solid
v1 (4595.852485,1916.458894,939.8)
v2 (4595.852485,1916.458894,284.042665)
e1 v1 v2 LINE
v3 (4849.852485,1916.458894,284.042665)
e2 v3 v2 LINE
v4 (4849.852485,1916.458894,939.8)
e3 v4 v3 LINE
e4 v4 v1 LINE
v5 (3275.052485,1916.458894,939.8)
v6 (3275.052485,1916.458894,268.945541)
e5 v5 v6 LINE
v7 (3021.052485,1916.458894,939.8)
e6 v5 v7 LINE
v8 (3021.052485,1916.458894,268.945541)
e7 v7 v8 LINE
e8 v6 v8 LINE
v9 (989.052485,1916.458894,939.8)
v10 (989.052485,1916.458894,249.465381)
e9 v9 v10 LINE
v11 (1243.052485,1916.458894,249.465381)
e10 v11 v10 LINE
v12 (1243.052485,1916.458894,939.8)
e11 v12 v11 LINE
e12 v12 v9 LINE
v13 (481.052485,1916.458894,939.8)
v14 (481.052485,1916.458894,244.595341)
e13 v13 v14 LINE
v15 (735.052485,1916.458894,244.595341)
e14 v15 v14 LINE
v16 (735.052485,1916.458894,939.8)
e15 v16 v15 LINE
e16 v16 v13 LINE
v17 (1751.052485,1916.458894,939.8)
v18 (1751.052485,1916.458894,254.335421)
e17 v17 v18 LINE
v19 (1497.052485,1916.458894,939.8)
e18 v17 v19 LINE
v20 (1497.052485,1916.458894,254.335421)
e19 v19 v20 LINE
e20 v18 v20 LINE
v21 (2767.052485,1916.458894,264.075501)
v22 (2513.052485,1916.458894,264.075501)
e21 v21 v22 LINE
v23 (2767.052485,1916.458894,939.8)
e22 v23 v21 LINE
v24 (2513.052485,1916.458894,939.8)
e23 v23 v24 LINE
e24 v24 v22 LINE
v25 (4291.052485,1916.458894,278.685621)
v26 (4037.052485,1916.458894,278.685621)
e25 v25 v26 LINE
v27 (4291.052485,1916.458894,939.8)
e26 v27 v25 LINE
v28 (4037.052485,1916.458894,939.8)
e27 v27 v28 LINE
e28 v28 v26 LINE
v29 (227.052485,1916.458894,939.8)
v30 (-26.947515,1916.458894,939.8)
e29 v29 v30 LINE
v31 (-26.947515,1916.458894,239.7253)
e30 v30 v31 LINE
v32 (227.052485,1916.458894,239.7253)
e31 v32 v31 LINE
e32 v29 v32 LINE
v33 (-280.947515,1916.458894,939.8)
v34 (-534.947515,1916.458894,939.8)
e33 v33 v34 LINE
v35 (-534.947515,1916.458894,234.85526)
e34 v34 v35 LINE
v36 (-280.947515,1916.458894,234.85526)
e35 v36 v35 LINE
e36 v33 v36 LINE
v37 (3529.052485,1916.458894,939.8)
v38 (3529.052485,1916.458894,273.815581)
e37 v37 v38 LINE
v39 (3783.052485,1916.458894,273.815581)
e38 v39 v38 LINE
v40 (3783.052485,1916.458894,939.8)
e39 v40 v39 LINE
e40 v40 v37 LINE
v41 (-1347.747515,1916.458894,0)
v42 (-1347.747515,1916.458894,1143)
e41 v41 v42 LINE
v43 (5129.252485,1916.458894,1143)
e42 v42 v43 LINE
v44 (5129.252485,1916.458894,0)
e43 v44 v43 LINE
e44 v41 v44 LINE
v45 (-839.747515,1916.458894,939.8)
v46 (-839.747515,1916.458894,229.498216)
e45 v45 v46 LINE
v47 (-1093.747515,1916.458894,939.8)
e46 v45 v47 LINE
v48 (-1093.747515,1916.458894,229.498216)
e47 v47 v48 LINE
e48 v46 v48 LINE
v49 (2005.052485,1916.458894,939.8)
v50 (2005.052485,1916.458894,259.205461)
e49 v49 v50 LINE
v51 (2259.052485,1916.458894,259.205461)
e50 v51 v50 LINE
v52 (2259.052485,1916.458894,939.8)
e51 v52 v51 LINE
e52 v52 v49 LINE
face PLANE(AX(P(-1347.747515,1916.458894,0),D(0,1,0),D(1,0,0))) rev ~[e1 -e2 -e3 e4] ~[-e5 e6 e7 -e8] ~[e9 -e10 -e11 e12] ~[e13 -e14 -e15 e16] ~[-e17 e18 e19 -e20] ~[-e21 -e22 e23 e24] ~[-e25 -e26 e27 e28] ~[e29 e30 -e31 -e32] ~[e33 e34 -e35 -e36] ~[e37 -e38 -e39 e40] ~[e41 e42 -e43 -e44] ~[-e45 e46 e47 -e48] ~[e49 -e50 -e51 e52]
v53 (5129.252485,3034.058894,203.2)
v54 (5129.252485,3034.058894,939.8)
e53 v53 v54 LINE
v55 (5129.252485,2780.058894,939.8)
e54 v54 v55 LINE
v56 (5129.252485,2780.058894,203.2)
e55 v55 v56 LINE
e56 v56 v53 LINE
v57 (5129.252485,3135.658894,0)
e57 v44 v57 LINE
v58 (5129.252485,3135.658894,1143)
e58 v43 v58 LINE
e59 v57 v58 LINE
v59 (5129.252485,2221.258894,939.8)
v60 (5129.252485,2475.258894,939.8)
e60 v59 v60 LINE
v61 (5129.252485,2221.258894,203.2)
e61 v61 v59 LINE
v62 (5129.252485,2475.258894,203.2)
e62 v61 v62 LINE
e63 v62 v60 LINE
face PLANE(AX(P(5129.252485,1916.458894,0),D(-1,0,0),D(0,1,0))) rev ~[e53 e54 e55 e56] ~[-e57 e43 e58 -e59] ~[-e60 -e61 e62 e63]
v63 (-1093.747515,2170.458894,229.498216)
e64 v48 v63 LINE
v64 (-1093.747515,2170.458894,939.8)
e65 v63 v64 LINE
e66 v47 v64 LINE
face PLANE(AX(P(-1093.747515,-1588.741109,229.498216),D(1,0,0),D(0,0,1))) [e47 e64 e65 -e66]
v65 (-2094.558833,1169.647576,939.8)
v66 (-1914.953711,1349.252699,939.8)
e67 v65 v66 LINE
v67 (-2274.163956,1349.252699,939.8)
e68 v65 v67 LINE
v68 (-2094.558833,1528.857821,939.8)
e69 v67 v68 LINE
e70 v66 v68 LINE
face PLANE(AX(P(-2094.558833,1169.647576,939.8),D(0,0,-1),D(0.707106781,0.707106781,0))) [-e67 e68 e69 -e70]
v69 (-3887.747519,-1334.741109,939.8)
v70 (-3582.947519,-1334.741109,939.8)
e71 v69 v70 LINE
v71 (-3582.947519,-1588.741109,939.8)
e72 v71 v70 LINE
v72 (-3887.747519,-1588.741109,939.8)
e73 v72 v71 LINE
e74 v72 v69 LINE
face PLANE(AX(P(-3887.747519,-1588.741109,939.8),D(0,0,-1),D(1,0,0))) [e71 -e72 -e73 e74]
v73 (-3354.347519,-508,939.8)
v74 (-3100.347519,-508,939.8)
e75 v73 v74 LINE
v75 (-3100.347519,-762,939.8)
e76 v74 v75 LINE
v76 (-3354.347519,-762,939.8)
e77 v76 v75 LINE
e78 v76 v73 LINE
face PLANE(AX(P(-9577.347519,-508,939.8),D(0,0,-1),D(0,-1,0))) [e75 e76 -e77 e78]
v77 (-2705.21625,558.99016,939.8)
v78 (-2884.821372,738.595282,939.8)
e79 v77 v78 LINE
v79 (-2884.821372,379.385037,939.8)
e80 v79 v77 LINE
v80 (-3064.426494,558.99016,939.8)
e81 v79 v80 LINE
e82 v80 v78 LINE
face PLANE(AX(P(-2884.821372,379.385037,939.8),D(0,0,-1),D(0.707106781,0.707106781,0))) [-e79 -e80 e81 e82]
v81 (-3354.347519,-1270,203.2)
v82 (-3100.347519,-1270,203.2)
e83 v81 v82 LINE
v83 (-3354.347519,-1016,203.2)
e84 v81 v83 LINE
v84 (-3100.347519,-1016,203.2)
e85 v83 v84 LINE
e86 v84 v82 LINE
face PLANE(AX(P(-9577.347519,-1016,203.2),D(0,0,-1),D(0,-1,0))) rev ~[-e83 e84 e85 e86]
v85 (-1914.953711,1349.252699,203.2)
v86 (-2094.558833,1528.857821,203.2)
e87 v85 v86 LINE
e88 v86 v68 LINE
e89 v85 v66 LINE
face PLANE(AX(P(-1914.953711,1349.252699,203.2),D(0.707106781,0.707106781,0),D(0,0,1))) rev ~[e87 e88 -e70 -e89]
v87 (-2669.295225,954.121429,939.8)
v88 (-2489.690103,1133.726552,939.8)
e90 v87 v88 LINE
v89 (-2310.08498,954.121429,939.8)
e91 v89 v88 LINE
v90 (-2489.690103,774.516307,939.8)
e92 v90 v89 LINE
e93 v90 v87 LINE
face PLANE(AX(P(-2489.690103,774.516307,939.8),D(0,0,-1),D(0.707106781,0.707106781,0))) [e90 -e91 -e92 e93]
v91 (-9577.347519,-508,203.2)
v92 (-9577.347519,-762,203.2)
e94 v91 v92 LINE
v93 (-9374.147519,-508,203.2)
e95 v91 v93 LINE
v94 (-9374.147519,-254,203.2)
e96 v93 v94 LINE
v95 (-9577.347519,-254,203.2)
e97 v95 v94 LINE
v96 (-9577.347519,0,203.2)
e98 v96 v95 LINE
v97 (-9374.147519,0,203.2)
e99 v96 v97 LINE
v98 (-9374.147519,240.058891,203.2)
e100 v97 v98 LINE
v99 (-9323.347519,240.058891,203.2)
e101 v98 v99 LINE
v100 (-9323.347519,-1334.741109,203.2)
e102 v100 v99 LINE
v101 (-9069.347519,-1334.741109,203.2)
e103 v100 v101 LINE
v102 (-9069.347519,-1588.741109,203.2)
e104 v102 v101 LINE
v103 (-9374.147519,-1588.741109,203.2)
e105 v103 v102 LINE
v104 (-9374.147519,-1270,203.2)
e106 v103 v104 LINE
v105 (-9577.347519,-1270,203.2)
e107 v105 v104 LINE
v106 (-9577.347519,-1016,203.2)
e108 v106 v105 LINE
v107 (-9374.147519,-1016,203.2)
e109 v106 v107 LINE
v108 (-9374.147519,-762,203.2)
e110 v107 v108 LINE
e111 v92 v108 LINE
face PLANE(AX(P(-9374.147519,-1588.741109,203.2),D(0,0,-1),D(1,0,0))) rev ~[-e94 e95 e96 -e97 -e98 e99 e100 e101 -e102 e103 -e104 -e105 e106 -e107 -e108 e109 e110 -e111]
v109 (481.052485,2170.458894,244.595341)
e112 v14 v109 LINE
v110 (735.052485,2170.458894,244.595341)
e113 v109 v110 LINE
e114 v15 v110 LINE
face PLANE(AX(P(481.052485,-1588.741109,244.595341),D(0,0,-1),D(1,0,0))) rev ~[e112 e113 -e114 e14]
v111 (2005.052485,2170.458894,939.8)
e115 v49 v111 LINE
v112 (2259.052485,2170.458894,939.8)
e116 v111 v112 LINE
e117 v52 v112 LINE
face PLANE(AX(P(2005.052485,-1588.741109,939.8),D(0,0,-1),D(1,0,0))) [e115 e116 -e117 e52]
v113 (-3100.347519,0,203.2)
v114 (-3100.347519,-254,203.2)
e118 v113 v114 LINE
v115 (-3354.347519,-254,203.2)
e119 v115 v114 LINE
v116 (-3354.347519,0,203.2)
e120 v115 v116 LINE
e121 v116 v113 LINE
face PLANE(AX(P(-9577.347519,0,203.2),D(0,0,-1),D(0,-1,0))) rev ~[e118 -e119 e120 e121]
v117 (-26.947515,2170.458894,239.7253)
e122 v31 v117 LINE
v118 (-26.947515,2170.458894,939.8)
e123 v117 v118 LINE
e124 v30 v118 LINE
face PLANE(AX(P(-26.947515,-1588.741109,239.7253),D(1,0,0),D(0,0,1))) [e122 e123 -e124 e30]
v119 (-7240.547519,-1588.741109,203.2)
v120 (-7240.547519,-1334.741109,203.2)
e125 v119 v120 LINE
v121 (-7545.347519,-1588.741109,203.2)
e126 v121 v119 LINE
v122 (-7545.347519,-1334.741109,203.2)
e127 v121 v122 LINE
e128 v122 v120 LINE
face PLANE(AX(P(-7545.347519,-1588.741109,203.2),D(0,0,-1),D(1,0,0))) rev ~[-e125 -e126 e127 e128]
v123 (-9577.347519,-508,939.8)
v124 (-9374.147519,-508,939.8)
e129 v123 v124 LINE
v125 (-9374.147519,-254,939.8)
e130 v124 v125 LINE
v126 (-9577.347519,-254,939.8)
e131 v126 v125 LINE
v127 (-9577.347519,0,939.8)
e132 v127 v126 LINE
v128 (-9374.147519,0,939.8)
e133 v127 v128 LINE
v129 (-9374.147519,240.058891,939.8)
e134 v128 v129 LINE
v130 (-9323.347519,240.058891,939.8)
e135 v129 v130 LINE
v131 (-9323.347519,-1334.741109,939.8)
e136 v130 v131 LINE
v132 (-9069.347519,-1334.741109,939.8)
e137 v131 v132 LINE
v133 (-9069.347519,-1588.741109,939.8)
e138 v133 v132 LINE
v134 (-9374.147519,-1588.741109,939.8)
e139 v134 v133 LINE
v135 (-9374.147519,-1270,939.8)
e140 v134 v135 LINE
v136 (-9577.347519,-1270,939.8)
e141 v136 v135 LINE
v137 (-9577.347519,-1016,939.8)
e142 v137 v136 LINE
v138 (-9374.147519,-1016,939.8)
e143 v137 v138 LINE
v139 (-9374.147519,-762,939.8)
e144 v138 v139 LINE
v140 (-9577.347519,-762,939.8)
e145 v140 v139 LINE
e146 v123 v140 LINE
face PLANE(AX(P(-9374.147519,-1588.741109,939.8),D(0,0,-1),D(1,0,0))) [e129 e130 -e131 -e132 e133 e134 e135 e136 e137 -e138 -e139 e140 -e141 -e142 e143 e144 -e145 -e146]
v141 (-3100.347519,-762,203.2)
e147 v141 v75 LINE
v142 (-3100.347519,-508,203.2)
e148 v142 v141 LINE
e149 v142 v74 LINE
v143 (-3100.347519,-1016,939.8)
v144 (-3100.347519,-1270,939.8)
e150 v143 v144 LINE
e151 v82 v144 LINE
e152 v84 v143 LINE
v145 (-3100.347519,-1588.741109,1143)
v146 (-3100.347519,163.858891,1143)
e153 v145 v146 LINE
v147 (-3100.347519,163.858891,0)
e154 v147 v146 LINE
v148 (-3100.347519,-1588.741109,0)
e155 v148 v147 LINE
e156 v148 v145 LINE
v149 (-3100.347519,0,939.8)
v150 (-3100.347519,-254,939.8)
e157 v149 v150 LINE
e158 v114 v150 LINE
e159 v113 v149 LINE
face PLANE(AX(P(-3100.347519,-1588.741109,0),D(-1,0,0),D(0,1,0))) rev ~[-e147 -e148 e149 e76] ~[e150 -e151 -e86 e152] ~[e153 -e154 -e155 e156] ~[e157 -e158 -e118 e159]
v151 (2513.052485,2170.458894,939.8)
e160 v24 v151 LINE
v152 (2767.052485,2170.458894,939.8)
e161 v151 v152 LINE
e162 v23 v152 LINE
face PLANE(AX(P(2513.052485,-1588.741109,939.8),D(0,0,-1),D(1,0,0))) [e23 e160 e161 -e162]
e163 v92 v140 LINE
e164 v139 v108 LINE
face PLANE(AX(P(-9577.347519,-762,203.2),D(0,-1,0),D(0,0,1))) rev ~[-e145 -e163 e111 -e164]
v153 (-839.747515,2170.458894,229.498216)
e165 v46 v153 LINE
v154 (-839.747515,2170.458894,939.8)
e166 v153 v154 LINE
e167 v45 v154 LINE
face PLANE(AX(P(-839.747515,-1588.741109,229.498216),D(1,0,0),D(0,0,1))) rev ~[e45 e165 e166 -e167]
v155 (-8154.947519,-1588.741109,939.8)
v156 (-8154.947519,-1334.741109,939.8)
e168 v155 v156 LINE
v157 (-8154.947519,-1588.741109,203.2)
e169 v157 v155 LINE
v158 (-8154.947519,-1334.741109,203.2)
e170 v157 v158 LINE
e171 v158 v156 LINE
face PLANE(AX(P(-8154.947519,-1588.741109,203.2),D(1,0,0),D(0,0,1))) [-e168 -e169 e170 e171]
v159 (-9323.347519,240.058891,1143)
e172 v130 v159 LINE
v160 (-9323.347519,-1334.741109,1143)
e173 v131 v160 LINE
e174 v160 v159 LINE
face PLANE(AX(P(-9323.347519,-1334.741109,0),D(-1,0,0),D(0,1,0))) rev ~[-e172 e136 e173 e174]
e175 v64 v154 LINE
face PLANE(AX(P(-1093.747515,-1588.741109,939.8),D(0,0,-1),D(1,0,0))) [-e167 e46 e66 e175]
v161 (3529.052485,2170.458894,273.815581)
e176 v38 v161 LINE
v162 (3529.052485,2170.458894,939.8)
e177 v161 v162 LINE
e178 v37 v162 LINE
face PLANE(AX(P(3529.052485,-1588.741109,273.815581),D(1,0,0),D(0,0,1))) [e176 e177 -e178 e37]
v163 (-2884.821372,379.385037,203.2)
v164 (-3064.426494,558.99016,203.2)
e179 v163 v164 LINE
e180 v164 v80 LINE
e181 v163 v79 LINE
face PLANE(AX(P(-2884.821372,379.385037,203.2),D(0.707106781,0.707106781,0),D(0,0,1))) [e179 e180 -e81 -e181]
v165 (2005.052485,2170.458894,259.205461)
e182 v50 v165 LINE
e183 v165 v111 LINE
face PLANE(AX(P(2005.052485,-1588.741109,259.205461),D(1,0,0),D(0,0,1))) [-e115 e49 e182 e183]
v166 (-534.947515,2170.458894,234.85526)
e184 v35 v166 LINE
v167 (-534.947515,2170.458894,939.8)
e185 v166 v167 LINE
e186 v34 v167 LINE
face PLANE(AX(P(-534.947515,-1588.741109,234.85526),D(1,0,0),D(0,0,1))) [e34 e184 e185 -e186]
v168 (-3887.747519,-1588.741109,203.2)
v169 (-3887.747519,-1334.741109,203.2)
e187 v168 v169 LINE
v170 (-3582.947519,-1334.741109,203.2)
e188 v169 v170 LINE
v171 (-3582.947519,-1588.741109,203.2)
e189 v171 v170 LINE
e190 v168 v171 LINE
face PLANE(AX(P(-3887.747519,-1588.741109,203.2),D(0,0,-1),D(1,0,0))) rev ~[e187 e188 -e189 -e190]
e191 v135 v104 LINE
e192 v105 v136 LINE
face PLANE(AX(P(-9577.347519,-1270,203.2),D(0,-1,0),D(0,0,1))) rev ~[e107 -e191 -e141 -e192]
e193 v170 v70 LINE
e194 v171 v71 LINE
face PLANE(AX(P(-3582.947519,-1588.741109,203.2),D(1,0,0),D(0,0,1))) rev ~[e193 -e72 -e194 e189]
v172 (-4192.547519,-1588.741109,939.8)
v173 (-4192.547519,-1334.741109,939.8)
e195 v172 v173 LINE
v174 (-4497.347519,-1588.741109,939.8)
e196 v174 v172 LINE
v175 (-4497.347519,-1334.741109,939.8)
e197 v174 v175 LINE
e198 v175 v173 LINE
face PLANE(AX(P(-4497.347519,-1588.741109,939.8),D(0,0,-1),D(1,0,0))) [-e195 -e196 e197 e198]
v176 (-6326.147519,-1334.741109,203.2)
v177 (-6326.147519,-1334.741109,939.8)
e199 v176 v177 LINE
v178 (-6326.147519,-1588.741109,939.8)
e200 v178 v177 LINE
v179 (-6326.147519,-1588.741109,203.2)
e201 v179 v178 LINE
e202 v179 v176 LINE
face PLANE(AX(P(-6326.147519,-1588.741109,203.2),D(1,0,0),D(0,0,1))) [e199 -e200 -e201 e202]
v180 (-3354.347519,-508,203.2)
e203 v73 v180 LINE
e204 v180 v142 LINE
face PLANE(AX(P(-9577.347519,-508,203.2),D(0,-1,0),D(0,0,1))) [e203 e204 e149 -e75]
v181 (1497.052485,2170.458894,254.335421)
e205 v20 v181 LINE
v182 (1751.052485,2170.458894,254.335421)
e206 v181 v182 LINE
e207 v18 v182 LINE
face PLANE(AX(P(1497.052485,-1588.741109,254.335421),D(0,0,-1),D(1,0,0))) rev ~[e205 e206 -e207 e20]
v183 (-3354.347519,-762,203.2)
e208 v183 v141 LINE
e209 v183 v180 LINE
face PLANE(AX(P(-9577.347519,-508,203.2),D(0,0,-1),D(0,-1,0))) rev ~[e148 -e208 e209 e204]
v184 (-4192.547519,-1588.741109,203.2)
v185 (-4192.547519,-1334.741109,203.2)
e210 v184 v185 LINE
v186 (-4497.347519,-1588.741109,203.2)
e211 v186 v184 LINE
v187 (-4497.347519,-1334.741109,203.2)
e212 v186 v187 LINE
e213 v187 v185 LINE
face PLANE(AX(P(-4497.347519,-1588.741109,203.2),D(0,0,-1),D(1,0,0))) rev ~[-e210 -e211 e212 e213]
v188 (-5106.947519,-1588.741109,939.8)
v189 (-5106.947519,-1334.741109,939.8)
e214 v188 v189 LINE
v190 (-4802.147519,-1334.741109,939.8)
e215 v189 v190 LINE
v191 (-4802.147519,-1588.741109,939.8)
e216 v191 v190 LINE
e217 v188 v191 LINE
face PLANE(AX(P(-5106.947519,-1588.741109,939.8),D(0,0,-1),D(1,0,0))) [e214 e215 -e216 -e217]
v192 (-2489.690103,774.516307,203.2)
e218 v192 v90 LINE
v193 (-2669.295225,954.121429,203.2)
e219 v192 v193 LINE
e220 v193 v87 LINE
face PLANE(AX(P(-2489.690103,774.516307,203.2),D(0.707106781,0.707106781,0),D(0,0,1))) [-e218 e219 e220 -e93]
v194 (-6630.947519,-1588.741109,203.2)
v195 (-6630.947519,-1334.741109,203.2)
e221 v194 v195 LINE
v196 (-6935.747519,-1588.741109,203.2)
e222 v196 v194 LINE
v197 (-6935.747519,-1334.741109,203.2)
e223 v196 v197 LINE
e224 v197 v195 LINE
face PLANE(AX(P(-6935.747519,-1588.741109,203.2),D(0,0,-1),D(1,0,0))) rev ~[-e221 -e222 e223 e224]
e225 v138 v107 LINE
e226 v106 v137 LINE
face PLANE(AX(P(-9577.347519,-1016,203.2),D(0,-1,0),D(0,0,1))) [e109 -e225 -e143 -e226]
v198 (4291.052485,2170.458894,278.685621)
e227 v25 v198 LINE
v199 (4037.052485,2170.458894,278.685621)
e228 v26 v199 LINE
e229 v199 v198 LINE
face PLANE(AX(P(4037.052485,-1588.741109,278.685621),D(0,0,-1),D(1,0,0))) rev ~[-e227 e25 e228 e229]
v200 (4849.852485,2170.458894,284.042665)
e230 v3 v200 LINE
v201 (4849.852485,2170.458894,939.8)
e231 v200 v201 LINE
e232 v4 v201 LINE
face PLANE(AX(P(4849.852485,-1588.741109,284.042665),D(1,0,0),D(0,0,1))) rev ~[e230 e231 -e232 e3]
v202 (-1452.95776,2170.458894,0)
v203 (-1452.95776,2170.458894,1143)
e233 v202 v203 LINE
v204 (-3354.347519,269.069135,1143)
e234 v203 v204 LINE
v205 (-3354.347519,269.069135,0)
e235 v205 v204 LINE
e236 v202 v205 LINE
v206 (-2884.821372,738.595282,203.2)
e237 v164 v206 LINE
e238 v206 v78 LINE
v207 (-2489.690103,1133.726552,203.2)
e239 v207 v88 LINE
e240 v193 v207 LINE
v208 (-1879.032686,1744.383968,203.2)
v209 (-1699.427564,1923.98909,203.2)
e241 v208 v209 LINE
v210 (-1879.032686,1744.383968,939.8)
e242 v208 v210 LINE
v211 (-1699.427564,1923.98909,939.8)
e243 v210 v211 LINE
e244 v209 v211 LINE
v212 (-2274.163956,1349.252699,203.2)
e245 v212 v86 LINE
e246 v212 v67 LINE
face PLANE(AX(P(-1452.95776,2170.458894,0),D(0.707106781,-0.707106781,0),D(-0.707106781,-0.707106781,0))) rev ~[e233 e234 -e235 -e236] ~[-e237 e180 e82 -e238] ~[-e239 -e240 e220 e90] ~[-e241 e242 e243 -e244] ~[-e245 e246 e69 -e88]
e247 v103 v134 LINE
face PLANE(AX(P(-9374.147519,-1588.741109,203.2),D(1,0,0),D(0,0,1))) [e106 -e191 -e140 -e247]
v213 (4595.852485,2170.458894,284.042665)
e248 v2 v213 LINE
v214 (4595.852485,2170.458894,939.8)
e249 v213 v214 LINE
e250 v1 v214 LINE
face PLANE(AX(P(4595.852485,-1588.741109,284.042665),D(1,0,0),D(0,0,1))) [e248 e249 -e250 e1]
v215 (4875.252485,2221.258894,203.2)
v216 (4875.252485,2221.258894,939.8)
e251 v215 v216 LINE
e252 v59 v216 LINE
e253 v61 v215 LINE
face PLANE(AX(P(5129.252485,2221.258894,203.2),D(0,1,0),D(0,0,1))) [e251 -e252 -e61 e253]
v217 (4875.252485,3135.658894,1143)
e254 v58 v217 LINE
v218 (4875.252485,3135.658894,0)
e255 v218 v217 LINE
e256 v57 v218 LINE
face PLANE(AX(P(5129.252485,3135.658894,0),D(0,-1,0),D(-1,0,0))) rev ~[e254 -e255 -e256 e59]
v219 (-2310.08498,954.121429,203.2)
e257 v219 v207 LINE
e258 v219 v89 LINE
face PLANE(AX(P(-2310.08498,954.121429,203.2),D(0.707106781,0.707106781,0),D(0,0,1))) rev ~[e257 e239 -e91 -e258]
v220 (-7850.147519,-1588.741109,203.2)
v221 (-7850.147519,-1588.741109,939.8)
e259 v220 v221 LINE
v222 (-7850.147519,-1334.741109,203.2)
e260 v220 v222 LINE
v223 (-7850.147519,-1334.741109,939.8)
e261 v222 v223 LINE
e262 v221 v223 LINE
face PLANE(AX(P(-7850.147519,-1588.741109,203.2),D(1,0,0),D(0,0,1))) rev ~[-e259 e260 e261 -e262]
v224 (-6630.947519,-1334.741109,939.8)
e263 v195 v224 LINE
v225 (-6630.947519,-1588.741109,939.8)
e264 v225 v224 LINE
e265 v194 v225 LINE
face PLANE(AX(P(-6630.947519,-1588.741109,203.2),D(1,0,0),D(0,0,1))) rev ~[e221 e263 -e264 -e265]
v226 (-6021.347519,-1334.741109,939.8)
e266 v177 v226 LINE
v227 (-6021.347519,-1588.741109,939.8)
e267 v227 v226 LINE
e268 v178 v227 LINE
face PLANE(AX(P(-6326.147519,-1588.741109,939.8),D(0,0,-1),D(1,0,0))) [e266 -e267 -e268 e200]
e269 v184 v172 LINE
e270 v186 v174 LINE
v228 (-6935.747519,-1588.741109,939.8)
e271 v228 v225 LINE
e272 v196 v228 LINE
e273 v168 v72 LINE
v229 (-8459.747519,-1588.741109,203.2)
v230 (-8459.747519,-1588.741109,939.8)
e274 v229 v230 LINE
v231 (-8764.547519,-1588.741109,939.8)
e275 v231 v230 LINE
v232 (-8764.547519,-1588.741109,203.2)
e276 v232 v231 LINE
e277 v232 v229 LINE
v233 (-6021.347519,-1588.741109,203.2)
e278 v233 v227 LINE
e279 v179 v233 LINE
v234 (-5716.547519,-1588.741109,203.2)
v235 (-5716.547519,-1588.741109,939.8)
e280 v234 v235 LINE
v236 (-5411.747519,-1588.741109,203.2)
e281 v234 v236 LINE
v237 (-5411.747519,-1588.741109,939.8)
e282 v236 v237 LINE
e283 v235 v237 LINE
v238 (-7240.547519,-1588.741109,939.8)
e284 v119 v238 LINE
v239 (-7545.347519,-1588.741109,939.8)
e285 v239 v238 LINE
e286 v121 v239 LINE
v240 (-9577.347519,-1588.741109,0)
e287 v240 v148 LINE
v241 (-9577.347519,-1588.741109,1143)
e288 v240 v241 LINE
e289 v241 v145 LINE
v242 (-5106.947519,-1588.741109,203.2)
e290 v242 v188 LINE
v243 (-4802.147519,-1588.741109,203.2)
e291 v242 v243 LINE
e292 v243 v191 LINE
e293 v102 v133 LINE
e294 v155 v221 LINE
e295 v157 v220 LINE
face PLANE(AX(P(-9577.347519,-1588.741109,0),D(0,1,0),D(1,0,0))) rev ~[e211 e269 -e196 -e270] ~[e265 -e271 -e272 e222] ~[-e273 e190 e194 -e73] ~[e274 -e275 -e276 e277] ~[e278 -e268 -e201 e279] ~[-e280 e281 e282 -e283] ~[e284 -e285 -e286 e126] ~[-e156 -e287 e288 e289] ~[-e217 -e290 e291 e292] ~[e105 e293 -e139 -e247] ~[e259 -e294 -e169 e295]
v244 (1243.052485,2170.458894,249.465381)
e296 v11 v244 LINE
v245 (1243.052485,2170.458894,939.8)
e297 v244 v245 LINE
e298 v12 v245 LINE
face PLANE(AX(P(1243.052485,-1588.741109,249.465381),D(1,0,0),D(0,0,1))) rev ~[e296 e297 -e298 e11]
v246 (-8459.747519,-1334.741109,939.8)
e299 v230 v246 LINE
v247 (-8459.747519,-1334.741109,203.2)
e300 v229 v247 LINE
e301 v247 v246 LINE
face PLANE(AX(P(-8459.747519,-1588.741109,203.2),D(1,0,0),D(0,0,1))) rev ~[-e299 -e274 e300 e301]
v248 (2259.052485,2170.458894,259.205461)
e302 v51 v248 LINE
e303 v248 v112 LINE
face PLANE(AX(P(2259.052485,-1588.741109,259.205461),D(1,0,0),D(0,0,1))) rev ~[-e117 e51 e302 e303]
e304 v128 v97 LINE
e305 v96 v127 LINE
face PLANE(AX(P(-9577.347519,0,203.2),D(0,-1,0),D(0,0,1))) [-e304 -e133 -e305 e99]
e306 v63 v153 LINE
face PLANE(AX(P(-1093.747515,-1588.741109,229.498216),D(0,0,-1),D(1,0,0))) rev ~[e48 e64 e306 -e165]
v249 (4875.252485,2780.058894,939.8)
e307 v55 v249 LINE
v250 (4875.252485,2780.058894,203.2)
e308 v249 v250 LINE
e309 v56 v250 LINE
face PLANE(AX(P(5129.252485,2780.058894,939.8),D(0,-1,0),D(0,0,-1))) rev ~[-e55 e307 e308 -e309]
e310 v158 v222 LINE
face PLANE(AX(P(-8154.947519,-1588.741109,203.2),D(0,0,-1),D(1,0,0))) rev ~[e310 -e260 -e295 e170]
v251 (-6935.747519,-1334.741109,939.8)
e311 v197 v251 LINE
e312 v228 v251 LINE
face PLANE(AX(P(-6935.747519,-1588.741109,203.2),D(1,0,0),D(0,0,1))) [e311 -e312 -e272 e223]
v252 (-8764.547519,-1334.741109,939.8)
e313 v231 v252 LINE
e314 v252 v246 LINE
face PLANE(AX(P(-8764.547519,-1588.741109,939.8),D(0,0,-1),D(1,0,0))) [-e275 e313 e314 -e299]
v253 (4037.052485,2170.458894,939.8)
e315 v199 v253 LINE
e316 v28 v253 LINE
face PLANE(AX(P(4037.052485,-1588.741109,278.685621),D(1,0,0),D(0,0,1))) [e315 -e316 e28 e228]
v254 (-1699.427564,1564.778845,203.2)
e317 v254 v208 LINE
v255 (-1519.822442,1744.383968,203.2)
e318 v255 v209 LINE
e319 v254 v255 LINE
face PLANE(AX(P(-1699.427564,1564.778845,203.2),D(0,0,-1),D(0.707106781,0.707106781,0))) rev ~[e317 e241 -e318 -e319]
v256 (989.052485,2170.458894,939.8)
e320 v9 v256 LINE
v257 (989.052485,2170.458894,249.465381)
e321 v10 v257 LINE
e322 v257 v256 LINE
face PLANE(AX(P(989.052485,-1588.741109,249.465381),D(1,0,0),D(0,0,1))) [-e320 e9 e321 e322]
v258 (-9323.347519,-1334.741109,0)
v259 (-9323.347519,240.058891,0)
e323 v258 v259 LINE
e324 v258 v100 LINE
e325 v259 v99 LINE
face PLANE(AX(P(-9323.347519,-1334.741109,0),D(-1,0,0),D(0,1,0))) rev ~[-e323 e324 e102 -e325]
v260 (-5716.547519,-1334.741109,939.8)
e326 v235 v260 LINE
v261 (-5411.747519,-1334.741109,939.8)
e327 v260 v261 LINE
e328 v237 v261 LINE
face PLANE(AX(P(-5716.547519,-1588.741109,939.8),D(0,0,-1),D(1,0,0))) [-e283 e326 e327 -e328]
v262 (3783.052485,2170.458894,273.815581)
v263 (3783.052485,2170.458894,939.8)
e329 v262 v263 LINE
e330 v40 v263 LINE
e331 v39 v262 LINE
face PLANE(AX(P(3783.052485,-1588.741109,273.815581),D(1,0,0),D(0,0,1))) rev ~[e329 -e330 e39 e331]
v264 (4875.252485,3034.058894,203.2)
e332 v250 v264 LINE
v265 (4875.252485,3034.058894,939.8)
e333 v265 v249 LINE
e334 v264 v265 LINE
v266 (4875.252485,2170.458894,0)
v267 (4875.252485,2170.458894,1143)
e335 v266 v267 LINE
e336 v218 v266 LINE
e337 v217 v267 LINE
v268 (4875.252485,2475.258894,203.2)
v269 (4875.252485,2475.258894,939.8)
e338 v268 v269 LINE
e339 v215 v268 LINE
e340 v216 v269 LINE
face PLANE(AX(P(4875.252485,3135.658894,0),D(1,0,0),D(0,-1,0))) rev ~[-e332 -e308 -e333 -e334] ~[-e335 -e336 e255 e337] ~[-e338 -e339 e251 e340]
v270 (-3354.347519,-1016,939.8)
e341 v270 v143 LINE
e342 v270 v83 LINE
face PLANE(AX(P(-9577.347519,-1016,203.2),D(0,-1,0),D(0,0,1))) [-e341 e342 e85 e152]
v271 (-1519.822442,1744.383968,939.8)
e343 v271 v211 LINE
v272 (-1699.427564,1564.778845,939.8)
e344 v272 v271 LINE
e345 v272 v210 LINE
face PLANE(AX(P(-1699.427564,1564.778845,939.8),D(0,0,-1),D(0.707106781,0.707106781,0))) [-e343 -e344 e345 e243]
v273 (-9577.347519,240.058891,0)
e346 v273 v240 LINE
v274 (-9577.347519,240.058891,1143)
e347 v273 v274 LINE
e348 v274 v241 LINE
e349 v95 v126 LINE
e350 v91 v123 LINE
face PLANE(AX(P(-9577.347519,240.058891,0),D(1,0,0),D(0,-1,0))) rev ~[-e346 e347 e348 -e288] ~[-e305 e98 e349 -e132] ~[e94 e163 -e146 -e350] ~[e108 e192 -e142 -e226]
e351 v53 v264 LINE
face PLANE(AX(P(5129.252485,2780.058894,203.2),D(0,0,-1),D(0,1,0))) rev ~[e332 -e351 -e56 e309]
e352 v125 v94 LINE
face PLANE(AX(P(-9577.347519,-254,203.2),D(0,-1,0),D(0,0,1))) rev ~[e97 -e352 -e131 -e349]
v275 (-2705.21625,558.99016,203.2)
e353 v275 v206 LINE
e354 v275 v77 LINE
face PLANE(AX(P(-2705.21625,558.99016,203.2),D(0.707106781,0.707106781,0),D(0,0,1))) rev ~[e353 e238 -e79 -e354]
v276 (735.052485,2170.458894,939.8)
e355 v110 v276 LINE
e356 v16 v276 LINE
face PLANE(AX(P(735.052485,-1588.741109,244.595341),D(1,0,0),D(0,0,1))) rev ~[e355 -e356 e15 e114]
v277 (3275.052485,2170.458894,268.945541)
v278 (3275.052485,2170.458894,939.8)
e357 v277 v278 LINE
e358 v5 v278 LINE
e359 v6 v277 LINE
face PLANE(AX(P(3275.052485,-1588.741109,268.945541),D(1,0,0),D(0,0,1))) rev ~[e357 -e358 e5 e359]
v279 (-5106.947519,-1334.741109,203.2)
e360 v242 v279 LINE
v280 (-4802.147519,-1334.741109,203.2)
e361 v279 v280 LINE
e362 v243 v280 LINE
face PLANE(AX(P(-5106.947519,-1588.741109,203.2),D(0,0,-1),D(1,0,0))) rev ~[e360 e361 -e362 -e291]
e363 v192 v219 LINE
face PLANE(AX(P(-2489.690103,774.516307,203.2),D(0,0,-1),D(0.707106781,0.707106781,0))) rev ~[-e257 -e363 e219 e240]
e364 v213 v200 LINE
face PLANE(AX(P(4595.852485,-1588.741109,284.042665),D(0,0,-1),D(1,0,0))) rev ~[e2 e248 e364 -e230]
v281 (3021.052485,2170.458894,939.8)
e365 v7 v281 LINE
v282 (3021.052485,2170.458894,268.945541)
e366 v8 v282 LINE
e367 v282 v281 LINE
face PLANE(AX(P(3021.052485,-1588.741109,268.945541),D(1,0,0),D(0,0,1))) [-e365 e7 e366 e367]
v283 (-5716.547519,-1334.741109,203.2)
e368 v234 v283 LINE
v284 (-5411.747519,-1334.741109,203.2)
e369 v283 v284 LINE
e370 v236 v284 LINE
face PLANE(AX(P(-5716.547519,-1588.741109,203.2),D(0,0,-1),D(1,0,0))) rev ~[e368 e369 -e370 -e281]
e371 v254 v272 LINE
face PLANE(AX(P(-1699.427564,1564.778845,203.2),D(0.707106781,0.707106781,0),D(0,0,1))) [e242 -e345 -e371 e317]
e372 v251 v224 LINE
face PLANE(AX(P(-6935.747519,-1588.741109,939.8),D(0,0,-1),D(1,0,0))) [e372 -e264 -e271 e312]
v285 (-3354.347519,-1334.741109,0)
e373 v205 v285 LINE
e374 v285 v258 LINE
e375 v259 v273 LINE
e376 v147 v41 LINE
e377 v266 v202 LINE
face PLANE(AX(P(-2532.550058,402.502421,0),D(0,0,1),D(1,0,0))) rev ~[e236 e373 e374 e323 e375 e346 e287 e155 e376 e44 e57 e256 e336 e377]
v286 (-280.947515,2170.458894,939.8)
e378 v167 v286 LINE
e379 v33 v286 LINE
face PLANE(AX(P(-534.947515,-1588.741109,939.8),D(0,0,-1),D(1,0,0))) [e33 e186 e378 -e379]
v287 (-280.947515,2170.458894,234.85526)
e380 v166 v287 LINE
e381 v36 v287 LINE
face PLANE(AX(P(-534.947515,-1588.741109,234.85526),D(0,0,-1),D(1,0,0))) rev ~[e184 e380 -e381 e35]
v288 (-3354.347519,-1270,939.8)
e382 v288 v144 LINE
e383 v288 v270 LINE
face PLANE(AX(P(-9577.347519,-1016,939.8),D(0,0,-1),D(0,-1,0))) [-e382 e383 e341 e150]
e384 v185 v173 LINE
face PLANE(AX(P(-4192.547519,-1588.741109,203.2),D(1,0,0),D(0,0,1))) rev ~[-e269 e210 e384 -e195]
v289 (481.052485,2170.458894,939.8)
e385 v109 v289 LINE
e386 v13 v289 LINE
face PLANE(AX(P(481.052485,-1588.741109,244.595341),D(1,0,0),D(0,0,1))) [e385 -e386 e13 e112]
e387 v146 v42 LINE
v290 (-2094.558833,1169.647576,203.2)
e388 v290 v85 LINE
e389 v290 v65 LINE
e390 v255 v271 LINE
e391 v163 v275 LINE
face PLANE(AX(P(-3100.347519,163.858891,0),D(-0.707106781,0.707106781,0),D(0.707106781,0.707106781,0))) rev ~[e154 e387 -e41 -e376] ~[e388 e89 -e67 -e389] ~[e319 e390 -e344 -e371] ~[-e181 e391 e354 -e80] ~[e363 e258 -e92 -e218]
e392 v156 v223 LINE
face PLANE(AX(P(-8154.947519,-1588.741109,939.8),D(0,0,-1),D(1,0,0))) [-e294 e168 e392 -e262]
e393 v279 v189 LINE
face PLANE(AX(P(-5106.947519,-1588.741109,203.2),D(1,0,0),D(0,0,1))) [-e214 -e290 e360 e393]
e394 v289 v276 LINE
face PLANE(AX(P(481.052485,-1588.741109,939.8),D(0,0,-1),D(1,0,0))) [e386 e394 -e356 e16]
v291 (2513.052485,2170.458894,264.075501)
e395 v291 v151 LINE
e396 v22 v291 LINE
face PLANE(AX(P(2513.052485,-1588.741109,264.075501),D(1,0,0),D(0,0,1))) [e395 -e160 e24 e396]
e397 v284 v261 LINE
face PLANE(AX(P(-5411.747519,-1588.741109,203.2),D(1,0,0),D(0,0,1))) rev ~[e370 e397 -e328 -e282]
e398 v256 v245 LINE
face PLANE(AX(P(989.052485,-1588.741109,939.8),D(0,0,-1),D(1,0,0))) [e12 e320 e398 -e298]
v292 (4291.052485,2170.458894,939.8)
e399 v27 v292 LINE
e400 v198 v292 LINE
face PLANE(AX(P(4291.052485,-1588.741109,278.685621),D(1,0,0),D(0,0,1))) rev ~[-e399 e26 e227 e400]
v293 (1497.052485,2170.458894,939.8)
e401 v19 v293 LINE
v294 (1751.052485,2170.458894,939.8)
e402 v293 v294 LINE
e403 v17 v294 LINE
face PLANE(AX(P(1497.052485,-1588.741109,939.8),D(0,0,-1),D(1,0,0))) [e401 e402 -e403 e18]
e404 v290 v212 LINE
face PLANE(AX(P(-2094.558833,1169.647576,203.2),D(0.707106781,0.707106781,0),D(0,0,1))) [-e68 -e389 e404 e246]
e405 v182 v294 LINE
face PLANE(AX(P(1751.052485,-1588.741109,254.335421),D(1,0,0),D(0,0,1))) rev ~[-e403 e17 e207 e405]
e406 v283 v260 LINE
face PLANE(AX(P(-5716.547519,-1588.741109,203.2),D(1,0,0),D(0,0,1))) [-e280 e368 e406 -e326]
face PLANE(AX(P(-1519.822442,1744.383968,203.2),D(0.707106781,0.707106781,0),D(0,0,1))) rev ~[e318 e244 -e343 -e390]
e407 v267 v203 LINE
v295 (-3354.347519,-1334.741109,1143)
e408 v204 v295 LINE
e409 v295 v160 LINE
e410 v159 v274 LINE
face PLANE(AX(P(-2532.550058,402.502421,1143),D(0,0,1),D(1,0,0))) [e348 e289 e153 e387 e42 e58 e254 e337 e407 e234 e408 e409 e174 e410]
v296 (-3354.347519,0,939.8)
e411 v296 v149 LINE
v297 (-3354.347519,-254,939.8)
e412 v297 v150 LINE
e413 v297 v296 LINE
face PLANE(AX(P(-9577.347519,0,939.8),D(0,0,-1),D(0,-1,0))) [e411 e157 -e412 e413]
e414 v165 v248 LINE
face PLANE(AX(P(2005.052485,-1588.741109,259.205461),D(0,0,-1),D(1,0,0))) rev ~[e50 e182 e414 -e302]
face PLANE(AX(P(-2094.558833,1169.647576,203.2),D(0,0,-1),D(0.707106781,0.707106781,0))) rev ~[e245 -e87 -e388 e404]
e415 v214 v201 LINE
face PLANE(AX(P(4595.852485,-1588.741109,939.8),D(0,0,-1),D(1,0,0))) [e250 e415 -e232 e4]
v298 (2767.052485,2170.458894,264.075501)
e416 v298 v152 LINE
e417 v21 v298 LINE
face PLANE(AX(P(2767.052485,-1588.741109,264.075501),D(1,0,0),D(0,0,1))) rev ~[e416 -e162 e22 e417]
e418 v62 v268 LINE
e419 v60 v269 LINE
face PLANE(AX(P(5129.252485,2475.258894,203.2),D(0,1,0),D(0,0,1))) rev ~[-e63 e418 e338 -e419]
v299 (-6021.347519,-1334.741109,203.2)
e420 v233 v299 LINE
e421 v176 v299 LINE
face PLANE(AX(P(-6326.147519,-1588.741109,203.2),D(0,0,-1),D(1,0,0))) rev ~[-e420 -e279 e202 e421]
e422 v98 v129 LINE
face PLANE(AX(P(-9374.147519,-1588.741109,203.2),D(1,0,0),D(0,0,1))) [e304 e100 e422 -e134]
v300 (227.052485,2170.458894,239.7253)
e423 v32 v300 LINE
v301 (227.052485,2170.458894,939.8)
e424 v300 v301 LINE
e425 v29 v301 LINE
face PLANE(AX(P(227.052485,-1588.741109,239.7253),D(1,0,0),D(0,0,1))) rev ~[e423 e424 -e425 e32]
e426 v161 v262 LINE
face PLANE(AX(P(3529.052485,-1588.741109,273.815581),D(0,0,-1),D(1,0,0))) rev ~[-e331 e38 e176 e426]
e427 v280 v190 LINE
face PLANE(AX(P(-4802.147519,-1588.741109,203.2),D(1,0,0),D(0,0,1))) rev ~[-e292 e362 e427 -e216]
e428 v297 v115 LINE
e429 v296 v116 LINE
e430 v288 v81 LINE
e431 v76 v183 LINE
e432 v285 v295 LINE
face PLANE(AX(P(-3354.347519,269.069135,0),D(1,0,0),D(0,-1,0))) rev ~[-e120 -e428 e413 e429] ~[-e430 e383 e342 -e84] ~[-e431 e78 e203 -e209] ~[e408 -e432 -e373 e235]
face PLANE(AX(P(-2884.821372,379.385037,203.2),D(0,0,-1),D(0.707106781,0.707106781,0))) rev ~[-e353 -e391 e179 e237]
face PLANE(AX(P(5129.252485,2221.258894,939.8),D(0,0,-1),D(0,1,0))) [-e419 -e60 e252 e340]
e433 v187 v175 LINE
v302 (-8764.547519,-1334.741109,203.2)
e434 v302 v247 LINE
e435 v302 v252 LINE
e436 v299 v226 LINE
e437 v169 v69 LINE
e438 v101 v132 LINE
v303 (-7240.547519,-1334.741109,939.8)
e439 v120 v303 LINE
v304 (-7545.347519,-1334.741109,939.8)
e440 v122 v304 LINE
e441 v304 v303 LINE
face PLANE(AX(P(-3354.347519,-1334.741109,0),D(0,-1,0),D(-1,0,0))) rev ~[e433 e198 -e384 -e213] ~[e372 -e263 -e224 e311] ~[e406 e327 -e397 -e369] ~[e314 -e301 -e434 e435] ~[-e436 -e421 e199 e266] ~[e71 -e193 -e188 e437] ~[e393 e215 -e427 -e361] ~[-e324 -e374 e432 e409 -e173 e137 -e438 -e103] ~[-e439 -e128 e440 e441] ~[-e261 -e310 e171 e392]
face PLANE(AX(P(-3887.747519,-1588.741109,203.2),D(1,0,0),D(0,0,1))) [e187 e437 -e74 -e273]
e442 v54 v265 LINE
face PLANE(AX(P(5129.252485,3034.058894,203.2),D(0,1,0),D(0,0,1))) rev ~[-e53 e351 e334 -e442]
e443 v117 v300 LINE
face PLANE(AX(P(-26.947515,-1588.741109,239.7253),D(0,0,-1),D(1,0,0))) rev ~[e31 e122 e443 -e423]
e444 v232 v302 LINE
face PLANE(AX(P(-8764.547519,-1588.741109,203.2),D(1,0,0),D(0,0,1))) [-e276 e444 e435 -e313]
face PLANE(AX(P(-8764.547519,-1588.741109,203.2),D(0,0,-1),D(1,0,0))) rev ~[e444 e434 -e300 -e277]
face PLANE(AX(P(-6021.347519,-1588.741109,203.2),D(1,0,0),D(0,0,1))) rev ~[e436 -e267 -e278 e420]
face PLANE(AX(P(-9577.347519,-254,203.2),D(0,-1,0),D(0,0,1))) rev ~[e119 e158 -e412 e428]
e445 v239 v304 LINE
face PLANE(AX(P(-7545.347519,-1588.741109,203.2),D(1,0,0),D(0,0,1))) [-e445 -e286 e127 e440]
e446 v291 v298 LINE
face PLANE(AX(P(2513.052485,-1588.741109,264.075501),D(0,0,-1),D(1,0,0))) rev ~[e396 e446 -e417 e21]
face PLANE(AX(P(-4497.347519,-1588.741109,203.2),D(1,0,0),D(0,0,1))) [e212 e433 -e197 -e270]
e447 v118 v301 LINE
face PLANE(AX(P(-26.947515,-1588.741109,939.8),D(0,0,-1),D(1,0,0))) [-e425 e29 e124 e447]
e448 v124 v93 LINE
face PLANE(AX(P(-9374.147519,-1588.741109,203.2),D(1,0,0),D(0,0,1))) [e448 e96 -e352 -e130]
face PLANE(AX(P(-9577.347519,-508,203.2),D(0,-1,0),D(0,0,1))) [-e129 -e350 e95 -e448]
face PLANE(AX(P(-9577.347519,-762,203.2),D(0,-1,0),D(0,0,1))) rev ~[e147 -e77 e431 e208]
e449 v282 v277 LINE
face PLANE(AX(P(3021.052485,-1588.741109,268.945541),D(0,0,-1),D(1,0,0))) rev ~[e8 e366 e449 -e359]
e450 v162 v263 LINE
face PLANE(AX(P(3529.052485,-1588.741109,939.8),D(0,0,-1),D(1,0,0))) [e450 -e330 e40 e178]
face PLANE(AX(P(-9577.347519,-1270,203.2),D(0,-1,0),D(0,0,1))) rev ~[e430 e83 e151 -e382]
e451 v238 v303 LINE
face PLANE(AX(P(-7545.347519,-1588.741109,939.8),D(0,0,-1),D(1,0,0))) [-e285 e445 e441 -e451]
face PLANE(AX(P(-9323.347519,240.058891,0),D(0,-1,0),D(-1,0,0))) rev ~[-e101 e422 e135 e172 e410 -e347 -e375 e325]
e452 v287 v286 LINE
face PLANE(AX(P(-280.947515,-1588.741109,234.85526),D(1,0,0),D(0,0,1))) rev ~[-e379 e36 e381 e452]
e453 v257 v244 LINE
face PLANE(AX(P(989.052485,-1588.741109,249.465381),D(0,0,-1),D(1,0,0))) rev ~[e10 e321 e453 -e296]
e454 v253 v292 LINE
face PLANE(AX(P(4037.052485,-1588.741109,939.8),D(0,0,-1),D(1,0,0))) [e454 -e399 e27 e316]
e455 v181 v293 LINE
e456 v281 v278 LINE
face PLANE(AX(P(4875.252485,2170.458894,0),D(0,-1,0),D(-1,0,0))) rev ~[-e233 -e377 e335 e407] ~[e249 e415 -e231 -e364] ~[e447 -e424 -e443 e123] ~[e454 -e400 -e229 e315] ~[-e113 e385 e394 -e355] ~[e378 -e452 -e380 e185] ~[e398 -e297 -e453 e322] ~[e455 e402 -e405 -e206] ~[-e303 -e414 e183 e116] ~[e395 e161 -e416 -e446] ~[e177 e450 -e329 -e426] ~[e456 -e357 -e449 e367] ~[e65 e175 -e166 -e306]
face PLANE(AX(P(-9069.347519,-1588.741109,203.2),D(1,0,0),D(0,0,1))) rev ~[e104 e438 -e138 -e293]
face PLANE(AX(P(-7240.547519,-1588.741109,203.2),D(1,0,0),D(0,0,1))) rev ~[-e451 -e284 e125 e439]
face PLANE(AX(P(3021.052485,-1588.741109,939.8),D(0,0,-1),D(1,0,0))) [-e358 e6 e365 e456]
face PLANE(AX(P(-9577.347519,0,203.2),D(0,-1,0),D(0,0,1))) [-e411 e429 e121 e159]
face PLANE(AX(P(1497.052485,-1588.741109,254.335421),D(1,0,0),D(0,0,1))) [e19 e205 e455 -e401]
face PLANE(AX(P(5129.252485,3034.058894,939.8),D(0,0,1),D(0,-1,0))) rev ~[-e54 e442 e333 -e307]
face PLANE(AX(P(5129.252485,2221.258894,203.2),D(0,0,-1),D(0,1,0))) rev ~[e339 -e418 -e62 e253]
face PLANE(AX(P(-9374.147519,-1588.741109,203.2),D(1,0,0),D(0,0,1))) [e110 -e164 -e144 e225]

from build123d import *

# Parameters (mm, degrees)
F1_DEPTH = 1143
F2_W     = 304.8
F2_H     = 736.6
F2_W_2   = 254
F2_H_2   = 710.3017836387
F2_H_3   = 704.944739572
F2_H_4   = 700.0746995114
F2_H_5   = 695.2046594508
F2_H_6   = 690.3346193901
F2_H_7   = 685.4645793295
F2_H_8   = 680.5945392688
F2_H_9   = 675.7244992082
F2_H_10  = 670.8544591476
F2_H_11  = 665.9844190869
F2_H_12  = 661.1143790263
F2_H_13  = 655.7573349596
F3_DEPTH = 4734.56
F4_W     = 254
F4_H     = 736.6
F5_DEPTH = 584.2
F6_W     = 254
F6_H     = 736.6
F7_DEPTH = 7112
F8_W     = 254
F8_H     = 736.6
F9_DEPTH = 304.8


with BuildPart() as f1:
    # F0 (on Top) → F1 (new body)
    with BuildSketch(Plane.XY):
        Polygon((-9577.3475189209, -1334.7411094666), (-9577.3475189209, -1588.7411094666), (-9323.3475189209, -1588.7411094666), (-3100.3475189209, -1588.7411094666), (-3100.3475189209, 163.8588905334), (-1347.747515396, 1916.4588940583), (5129.252484604, 1916.4588940583), (5129.252484604, 3135.6588940583), (4875.252484604, 3135.6588940583), (4875.252484604, 2170.4588940583), (-1452.9577602388, 2170.4588940583), (-3354.3475189209, 269.0691353762), (-3354.3475189209, -1334.7411094666), (-9323.3475189209, -1334.7411094666), (-9323.3475189209, 240.0588905334), (-9577.3475189209, 240.0588905334), align=None)
    extrude(amount=F1_DEPTH)

    # F2 (on face) → F3 (cut)
    with BuildSketch(Plane.XZ.offset(1588.7411094666)):
        with Locations((-9221.7475189209, 571.5)):
            Rectangle(F2_W, F2_H)
        with Locations((-8612.1475189209, 571.5)):
            Rectangle(F2_W, F2_H)
        with Locations((-8002.5475189209, 571.5)):
            Rectangle(F2_W, F2_H)
        with Locations((-7392.9475189209, 571.5)):
            Rectangle(F2_W, F2_H)
        with Locations((-6783.3475189209, 571.5)):
            Rectangle(F2_W, F2_H)
        with Locations((-6173.7475189209, 571.5)):
            Rectangle(F2_W, F2_H)
        with Locations((-5564.1475189209, 571.5)):
            Rectangle(F2_W, F2_H)
        with Locations((-4954.5475189209, 571.5)):
            Rectangle(F2_W, F2_H)
        with Locations((-4344.9475189209, 571.5)):
            Rectangle(F2_W, F2_H)
        with Locations((-3735.3475189209, 571.5)):
            Rectangle(F2_W, F2_H)
        with Locations((-966.747515396, 584.6491081806)):
            Rectangle(F2_W_2, F2_H_2)
        with Locations((-407.947515396, 587.327630214)):
            Rectangle(F2_W_2, F2_H_3)
        with Locations((100.052484604, 589.7626502443)):
            Rectangle(F2_W_2, F2_H_4)
        with Locations((608.052484604, 592.1976702746)):
            Rectangle(F2_W_2, F2_H_5)
        with Locations((1116.052484604, 594.6326903049)):
            Rectangle(F2_W_2, F2_H_6)
        with Locations((1624.052484604, 597.0677103353)):
            Rectangle(F2_W_2, F2_H_7)
        with Locations((2132.052484604, 599.5027303656)):
            Rectangle(F2_W_2, F2_H_8)
        with Locations((2640.052484604, 601.9377503959)):
            Rectangle(F2_W_2, F2_H_9)
        with Locations((3148.052484604, 604.3727704262)):
            Rectangle(F2_W_2, F2_H_10)
        with Locations((3656.052484604, 606.8077904565)):
            Rectangle(F2_W_2, F2_H_11)
        with Locations((4164.052484604, 609.2428104869)):
            Rectangle(F2_W_2, F2_H_12)
        with Locations((4722.852484604, 611.9213325202)):
            Rectangle(F2_W_2, F2_H_13)
    extrude(amount=-F3_DEPTH, mode=Mode.SUBTRACT)

    # F4 (on face) → F5 (cut)
    with BuildSketch(Plane(origin=(-1632.1032047272, 1632.1032047272, 0), x_dir=(0.7071067812, 0.7071067812, 0), z_dir=(0.7071067812, -0.7071067812, 0))):
        with Locations((-1644.61102201, 571.5)):
            Rectangle(F4_W, F4_H)
        with Locations((-1085.81102201, 571.5)):
            Rectangle(F4_W, F4_H)
        with Locations((-527.01102201, 571.5)):
            Rectangle(F4_W, F4_H)
        with Locations((31.78897799, 571.5)):
            Rectangle(F4_W, F4_H)
    extrude(amount=-F5_DEPTH, mode=Mode.SUBTRACT)

    # F6 (on face) → F7 (cut)
    with BuildSketch(Plane(origin=(-9577.3475189209, 0, 0), x_dir=(0, -1, 0), z_dir=(-1, 0, 0))):
        with Locations((127, 571.5)):
            Rectangle(F6_W, F6_H)
        with Locations((635, 571.5)):
            Rectangle(F6_W, F6_H)
        with Locations((1143, 571.5)):
            Rectangle(F6_W, F6_H)
    extrude(amount=-F7_DEPTH, mode=Mode.SUBTRACT)

    # F8 (on face) → F9 (cut)
    with BuildSketch(Plane.YZ.offset(5129.252484604)):
        with Locations((2348.2588940583, 571.5)):
            Rectangle(F8_W, F8_H)
        Polygon((2845.7119464874, 939.8), (2780.0588940583, 939.8), (2780.0588940583, 203.2), (2845.7119464874, 203.2), (3011.191368103, 203.2), (3034.0588940583, 203.2), (3034.0588940583, 939.8), (3011.191368103, 939.8), align=None)
    extrude(amount=-F9_DEPTH, mode=Mode.SUBTRACT)


solid = f1.part
